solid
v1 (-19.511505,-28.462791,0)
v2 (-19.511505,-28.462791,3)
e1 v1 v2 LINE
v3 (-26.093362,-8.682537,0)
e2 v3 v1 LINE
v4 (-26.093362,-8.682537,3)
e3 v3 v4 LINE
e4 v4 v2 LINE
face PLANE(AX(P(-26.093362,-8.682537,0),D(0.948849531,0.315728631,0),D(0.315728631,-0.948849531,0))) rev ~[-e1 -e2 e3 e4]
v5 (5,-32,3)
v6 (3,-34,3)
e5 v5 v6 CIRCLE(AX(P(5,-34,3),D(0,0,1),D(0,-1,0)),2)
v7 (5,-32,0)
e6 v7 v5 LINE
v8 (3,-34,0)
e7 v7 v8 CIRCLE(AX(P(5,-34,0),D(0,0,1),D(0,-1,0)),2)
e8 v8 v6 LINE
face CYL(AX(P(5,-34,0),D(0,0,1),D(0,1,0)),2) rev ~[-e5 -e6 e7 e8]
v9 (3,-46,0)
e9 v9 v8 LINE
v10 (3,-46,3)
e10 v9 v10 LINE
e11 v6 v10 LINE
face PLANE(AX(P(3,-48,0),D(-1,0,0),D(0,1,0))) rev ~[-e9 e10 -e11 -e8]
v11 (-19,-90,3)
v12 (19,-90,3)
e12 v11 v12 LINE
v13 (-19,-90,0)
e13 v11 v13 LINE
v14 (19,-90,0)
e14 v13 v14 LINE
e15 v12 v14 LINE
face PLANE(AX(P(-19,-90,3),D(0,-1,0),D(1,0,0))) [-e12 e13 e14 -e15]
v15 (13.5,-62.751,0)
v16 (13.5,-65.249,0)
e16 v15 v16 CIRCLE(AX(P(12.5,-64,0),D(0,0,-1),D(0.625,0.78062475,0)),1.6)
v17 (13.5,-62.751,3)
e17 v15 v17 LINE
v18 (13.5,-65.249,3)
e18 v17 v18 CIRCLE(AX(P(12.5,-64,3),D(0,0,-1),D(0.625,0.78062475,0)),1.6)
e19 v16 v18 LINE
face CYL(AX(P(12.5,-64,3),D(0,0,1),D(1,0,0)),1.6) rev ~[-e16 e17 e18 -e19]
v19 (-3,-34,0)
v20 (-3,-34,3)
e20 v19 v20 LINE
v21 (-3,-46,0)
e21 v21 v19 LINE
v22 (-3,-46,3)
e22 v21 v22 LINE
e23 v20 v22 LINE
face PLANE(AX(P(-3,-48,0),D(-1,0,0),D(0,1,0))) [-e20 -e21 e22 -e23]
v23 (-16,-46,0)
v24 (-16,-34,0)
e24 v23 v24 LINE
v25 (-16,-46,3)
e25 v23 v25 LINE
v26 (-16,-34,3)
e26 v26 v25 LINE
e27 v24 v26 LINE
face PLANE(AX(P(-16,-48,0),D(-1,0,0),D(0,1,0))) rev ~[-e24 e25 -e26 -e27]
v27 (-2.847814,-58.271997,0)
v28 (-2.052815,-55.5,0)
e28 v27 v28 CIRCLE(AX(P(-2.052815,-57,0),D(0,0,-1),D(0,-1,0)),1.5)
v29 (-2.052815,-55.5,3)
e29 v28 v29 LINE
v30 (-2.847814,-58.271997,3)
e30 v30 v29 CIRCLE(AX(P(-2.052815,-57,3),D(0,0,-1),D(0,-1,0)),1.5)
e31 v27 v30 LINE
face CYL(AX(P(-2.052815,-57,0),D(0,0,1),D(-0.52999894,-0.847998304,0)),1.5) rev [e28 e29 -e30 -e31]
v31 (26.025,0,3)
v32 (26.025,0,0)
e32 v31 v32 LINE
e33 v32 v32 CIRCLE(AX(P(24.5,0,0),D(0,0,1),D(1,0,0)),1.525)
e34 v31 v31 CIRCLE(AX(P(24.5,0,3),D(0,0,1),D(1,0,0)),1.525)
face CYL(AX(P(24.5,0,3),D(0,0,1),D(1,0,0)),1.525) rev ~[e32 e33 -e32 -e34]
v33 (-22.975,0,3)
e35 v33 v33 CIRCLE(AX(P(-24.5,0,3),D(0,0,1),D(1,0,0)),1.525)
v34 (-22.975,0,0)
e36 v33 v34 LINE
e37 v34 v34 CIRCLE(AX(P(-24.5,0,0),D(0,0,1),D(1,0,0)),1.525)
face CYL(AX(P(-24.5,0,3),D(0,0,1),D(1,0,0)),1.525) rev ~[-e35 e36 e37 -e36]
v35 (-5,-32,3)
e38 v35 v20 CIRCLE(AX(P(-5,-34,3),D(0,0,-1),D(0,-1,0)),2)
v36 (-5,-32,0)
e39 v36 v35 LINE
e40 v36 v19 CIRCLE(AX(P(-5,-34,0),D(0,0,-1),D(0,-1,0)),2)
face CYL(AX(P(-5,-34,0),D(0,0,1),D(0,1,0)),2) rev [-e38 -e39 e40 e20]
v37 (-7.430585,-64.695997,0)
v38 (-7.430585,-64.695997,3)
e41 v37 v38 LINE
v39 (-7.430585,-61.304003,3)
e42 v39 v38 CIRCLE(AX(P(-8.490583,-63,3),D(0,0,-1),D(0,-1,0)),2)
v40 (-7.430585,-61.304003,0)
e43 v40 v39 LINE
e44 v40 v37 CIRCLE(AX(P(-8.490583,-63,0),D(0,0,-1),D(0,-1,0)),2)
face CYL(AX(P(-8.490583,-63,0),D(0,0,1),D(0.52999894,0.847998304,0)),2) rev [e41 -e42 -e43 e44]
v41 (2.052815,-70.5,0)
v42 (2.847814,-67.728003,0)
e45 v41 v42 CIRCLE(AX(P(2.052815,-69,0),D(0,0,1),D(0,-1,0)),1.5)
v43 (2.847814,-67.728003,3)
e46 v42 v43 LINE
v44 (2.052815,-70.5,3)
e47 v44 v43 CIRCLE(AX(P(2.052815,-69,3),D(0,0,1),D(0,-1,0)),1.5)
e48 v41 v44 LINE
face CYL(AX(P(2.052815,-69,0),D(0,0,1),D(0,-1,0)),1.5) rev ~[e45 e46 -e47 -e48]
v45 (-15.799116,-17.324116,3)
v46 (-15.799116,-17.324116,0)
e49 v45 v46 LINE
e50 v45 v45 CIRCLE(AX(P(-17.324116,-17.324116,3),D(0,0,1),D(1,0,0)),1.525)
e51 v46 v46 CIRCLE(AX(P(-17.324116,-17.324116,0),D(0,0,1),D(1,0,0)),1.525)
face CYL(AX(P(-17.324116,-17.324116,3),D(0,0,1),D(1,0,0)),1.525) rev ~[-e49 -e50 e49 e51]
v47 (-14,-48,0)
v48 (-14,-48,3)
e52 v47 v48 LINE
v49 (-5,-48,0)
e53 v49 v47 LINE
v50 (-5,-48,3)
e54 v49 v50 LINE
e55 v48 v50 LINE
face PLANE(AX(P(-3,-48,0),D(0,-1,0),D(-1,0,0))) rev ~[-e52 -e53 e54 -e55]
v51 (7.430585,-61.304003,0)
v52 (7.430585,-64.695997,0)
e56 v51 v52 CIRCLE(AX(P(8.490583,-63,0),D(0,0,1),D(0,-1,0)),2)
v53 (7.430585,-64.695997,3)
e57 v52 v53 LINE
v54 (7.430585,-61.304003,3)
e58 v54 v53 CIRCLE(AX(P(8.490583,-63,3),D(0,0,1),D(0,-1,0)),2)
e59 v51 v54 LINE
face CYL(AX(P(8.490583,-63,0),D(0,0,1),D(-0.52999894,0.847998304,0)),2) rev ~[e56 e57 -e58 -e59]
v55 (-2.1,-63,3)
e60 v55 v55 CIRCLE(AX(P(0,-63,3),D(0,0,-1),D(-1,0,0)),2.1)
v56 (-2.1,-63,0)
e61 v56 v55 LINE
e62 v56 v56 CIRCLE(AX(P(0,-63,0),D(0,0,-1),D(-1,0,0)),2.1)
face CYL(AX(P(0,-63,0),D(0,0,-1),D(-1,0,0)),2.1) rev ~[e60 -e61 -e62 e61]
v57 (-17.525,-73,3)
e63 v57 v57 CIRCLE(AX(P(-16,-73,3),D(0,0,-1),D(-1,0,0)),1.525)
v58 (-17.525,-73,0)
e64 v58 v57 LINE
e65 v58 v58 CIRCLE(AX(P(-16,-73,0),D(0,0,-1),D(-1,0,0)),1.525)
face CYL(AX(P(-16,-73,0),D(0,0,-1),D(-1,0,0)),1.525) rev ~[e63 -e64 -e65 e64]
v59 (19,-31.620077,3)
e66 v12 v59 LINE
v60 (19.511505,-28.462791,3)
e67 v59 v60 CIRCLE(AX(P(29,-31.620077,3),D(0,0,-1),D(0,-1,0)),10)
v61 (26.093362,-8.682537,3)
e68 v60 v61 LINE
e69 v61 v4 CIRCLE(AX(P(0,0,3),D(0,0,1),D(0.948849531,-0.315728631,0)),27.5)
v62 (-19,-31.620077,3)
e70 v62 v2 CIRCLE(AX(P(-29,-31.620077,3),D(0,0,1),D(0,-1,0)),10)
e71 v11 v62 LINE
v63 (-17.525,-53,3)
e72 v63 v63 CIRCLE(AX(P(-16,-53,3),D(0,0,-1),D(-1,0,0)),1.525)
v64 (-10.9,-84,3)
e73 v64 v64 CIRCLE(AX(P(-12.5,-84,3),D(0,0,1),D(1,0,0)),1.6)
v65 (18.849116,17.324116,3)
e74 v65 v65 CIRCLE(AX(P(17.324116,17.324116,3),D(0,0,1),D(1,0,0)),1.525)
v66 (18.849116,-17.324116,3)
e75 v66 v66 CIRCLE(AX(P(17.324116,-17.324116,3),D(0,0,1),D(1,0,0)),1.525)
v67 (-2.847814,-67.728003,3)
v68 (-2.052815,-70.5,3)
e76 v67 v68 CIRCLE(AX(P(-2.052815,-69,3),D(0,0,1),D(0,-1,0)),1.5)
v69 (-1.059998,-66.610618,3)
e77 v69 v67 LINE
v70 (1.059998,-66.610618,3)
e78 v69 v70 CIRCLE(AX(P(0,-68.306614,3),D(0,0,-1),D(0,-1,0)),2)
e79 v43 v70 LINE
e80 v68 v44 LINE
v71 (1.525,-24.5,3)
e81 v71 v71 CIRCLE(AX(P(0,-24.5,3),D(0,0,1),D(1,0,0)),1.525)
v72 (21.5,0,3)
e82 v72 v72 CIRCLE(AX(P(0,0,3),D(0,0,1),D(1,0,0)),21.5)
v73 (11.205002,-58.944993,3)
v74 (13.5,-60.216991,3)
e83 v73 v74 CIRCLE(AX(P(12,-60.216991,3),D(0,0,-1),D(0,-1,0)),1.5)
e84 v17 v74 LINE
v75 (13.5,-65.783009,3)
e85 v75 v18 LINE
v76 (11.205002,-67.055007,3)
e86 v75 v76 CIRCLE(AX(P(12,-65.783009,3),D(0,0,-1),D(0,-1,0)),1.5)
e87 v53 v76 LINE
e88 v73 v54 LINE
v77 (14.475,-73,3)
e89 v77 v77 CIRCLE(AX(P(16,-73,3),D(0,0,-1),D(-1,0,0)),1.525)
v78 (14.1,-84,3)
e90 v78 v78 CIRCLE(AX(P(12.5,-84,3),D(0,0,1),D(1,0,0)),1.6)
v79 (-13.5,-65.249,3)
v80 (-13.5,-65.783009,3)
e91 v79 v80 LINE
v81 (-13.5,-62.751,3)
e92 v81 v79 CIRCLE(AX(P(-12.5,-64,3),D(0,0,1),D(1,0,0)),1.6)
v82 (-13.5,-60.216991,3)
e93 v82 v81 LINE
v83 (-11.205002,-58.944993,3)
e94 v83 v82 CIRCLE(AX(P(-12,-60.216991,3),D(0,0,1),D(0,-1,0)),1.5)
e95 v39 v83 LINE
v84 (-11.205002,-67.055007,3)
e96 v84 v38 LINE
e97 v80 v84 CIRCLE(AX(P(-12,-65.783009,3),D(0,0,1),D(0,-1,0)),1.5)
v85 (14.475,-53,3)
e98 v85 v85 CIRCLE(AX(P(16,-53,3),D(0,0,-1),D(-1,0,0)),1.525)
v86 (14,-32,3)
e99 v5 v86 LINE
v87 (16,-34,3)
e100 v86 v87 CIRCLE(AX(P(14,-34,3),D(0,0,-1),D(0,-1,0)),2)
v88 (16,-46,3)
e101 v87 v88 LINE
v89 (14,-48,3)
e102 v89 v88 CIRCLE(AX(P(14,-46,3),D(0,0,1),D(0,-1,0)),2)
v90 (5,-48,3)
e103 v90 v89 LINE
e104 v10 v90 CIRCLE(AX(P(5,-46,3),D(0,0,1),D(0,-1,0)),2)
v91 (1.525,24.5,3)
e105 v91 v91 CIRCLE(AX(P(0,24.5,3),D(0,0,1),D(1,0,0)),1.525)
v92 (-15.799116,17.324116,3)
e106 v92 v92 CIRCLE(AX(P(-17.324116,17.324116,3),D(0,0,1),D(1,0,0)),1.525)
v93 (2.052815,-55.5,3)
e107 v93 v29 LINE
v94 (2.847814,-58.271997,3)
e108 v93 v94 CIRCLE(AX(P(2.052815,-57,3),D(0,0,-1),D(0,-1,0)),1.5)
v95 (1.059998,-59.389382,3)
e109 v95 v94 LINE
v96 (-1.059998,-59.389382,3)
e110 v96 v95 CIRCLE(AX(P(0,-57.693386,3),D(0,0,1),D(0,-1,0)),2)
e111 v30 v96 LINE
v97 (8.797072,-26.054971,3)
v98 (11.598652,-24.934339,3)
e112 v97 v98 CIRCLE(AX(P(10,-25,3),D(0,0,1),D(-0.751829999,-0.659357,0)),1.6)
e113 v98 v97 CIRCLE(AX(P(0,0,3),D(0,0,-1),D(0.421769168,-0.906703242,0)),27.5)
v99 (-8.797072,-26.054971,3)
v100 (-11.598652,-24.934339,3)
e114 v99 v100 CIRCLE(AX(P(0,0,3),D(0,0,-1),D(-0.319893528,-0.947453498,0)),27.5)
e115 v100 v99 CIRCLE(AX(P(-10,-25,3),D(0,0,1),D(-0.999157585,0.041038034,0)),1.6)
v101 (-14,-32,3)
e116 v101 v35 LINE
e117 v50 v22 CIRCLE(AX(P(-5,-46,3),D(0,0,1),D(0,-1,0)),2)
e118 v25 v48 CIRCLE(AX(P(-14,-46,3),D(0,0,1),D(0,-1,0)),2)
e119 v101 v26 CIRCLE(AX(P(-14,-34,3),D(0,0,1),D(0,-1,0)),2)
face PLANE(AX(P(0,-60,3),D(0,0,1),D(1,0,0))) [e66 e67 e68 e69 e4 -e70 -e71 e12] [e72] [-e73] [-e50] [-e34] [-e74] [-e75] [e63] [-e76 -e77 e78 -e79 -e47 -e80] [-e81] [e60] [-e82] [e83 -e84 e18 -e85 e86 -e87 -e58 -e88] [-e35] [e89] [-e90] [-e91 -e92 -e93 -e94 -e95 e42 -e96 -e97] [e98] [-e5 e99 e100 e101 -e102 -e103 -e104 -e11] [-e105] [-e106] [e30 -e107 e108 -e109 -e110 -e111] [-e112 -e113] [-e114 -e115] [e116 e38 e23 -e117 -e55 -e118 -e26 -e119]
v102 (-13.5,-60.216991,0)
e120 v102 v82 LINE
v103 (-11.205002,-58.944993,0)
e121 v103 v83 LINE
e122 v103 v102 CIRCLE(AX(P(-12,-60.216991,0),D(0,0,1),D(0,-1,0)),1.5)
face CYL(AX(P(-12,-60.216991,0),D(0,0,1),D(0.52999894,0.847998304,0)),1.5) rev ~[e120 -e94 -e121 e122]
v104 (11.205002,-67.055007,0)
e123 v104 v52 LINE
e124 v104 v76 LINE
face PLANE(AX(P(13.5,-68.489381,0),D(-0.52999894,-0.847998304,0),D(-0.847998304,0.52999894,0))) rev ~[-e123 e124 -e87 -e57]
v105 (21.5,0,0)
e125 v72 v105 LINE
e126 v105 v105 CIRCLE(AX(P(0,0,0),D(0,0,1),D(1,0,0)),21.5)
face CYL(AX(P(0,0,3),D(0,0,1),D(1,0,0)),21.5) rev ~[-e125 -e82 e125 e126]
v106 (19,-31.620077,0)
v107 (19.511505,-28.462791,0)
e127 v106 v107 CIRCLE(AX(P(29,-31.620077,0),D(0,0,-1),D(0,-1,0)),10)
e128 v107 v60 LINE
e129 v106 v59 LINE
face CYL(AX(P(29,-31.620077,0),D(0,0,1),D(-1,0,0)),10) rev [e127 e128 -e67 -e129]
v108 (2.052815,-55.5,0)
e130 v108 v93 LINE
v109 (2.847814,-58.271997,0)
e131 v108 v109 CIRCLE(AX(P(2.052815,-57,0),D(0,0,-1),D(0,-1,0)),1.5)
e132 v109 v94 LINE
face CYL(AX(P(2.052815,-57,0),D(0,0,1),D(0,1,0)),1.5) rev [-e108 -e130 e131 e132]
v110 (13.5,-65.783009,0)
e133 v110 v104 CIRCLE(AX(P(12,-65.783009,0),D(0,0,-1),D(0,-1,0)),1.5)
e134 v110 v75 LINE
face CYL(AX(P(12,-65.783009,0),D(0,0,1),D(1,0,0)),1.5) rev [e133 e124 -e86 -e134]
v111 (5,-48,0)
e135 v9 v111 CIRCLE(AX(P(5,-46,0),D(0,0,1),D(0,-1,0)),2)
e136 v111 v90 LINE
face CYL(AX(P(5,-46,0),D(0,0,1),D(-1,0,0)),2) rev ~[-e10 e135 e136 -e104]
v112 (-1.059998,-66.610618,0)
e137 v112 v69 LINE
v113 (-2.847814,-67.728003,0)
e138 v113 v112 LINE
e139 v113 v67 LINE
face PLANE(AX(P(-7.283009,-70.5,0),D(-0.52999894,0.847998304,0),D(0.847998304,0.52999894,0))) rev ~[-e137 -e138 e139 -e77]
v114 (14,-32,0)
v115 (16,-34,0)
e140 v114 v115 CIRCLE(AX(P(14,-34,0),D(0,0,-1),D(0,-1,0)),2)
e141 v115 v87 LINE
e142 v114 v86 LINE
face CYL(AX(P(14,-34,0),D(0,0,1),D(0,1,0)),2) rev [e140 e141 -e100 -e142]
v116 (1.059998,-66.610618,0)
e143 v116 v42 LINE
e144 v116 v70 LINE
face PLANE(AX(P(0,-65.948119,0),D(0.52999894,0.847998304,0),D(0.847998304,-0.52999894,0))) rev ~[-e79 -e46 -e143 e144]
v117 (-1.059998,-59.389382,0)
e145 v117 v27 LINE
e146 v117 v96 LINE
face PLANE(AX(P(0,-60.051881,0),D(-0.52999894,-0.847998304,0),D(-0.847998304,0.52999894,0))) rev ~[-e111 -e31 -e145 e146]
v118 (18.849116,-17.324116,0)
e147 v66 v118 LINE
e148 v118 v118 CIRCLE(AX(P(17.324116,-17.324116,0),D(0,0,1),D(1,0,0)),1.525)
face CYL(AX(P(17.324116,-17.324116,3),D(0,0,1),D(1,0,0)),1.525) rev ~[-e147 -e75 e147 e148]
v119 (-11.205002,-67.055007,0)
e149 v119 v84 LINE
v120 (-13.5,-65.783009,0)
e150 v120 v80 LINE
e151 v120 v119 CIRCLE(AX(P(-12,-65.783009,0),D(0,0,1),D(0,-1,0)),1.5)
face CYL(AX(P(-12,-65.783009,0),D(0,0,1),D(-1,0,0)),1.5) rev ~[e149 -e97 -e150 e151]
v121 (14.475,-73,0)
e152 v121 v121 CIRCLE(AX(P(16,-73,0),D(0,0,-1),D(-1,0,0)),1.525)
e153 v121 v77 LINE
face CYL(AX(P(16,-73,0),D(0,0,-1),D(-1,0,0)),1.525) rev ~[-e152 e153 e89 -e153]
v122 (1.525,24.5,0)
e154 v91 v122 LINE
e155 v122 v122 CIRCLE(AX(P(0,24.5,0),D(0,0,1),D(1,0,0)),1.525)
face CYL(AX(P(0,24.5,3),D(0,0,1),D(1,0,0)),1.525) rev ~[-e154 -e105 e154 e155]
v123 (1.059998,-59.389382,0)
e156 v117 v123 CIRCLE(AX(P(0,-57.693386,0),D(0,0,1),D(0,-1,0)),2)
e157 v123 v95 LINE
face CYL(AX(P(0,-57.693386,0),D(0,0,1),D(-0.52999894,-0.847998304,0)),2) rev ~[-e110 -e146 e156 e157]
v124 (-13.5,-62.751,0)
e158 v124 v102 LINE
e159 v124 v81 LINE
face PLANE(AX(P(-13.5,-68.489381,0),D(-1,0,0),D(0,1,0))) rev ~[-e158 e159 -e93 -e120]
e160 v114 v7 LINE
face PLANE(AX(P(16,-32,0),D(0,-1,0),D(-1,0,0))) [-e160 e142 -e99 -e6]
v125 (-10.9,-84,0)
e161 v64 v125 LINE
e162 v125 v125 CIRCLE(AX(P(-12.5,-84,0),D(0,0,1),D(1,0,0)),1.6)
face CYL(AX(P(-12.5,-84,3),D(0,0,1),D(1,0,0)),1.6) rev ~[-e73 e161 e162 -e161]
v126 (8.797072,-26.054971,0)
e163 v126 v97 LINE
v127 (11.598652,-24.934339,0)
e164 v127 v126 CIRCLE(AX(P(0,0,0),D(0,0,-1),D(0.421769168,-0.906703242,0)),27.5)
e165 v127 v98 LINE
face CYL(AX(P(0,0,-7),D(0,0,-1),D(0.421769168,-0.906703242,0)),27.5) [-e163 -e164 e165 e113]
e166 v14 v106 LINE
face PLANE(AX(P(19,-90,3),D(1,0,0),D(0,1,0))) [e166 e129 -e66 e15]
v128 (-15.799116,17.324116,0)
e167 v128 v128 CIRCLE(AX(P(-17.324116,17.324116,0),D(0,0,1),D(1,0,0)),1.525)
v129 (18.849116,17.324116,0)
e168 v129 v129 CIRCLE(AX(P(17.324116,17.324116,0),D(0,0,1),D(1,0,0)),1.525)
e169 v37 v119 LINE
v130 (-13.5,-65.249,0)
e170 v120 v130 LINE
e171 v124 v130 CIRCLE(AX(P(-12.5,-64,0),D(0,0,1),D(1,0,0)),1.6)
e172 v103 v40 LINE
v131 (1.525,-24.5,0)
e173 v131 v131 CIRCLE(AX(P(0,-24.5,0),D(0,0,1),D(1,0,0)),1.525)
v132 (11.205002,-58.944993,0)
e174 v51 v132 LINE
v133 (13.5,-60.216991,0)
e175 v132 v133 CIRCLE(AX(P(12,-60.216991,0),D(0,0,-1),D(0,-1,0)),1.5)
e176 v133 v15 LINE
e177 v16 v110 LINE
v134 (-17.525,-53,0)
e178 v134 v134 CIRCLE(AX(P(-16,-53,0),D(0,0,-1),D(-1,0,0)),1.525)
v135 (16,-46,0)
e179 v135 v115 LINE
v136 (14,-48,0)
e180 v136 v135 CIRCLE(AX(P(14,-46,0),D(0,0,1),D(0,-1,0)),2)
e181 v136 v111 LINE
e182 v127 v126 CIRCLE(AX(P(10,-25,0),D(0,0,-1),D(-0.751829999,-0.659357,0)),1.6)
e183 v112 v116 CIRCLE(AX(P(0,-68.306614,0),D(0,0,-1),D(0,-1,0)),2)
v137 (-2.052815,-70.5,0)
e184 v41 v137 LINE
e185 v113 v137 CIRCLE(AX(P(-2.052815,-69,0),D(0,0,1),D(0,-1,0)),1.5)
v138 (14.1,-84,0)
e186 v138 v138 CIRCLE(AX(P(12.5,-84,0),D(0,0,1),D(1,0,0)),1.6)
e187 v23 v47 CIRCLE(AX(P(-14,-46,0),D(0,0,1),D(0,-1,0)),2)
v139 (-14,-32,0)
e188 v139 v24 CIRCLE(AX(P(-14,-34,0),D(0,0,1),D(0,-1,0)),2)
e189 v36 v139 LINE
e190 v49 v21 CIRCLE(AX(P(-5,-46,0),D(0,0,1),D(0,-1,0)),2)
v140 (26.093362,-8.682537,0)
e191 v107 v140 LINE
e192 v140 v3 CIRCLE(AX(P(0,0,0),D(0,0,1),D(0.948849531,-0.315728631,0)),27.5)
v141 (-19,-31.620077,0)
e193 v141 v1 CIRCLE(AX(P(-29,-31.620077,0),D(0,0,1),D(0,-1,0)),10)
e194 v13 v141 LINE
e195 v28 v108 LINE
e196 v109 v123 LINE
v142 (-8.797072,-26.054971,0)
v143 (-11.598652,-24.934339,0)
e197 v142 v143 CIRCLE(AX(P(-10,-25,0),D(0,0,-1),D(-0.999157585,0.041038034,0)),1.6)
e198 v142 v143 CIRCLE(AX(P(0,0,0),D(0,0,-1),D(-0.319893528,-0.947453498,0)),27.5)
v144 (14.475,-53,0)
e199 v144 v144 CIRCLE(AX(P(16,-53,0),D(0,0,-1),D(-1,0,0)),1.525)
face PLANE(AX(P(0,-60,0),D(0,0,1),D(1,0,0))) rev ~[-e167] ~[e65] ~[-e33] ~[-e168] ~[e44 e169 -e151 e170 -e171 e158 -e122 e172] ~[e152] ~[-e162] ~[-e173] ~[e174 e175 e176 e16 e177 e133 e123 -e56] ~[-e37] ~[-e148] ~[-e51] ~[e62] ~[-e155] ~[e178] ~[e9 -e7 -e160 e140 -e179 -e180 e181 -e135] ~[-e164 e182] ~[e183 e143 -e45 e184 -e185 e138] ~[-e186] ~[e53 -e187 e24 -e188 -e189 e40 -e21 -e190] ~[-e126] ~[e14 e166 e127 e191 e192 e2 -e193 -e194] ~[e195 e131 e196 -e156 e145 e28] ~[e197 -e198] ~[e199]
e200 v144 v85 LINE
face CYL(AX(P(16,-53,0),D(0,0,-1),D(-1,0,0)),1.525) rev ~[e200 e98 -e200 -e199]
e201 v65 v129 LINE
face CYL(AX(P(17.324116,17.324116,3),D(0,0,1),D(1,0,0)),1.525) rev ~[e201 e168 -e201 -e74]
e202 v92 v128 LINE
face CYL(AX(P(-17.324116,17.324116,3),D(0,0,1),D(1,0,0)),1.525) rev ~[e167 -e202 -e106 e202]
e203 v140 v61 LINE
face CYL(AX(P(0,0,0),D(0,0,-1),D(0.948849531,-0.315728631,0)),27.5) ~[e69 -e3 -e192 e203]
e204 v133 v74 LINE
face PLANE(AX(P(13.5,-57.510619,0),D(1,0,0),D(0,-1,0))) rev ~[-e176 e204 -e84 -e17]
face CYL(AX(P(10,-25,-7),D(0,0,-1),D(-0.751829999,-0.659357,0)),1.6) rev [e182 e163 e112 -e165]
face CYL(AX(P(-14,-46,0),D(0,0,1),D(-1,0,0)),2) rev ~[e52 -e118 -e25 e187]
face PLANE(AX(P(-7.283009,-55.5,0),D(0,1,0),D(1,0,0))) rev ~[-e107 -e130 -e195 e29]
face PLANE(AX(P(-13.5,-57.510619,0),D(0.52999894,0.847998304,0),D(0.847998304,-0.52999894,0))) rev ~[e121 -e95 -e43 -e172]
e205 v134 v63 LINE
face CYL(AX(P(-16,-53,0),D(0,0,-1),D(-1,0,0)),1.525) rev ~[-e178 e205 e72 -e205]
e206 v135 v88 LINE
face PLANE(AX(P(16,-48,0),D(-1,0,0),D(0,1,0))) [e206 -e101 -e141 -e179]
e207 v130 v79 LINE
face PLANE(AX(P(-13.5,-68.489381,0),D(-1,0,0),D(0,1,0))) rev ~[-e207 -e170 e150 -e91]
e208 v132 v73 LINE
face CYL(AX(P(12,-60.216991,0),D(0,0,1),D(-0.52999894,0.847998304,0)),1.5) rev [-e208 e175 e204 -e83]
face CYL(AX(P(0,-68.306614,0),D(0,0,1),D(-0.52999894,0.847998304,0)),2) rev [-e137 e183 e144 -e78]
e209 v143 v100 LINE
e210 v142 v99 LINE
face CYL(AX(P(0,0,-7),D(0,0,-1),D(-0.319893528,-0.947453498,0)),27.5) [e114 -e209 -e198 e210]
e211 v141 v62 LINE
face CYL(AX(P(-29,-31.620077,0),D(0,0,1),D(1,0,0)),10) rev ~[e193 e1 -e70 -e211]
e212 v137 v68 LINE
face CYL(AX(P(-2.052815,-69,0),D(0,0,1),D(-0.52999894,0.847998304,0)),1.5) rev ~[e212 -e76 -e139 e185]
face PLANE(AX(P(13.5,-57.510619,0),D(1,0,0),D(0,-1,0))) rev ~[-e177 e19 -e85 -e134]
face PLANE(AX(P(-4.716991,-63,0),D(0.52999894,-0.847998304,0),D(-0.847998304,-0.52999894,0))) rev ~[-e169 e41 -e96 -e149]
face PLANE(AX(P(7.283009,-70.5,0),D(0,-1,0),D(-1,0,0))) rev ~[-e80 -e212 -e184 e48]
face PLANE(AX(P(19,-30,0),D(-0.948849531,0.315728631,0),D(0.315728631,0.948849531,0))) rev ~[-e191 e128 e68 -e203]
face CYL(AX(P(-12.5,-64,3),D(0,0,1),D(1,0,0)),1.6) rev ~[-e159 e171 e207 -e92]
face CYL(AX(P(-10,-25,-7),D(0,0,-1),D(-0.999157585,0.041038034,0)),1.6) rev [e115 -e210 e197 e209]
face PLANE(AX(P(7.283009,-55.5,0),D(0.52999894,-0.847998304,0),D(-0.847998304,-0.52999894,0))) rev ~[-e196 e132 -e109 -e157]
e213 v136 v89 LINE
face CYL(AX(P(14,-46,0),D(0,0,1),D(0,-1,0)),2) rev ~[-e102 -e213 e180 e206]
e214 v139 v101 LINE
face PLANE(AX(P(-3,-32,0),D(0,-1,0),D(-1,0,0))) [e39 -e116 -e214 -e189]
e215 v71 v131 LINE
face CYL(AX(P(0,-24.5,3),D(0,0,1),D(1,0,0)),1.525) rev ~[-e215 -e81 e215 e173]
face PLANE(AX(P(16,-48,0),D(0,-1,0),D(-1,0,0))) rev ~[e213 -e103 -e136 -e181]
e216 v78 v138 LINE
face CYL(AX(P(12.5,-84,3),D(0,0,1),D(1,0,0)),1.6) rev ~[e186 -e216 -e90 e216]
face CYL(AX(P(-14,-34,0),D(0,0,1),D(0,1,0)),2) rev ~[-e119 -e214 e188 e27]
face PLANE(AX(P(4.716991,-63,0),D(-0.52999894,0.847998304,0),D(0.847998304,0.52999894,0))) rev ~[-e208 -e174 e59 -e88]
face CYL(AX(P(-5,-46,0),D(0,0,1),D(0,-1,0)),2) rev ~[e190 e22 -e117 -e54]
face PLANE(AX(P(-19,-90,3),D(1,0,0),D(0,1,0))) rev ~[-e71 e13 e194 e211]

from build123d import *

# Parameters (mm, degrees)
EXTRUDE_1_DEPTH     = 3
SKETCH_2_R          = 21.5
CUT_EXTRUDE_1_DEPTH = 3
SKETCH_3_R          = 1.525
CUT_EXTRUDE_2_DEPTH = 3
SKETCH_4_W          = 38
SKETCH_4_H          = 60
SKETCH_4_R          = 1.6
EXTRUDE_2_DEPTH     = 3
SKETCH_13_R         = 1.525
CUT_EXTRUDE_7_DEPTH = 10
SKETCH_15_W         = 13
SKETCH_15_H         = 16
CUT_EXTRUDE_8_DEPTH = 10
FILLET_2_R          = 2
FILLET_3_R          = 1.5
SKETCH_16_R         = 2.1
CUT_EXTRUDE_9_DEPTH = 3
SKETCH_11_R         = 1.6
CUT_EXTRUDE_5_DEPTH = 10
CUT_EXTRUDE_START   = -10
CUT_EXTRUDE_3_DEPTH = 10
FILLET_1_R          = 10


with BuildPart() as part:
    # 草图1 → 凸台-拉伸1 (new body)
    with BuildSketch(Plane.XY):
        with BuildLine():
            Line((-19, -30), (19, -30))
            Line((19, -30), (26.093362093, -8.682537341))
            ThreePointArc((26.093362093, -8.682537341), (0, 27.5), (-26.093362093, -8.682537341))
            Line((-26.093362093, -8.682537341), (-19, -30))
        make_face()
    extrude(amount=EXTRUDE_1_DEPTH)

    # 草图2 → 切除-拉伸1 (cut)
    with BuildSketch(Plane.XY.offset(3)):
        Circle(SKETCH_2_R)
    extrude(amount=-CUT_EXTRUDE_1_DEPTH, mode=Mode.SUBTRACT)

    # 草图3 → 切除-拉伸2 (cut)
    with BuildSketch(Plane.XY.offset(3)):
        with Locations((17.324116139, 17.324116139)):
            Circle(SKETCH_3_R)
        with Locations((24.5, 0)):
            Circle(SKETCH_3_R)
        with Locations((17.324116139, -17.324116139)):
            Circle(SKETCH_3_R)
        with Locations((0, -24.5)):
            Circle(SKETCH_3_R)
        with Locations((-17.324116139, -17.324116139)):
            Circle(SKETCH_3_R)
        with Locations((-24.5, 0)):
            Circle(SKETCH_3_R)
        with Locations((-17.324116139, 17.324116139)):
            Circle(SKETCH_3_R)
        with Locations((0, 24.5)):
            Circle(SKETCH_3_R)
    extrude(amount=-CUT_EXTRUDE_2_DEPTH, mode=Mode.SUBTRACT)

    # 草图4 → 凸台-拉伸2 (add)
    with BuildSketch(Plane.XY.offset(3)):
        with Locations((0, -60)):
            Rectangle(SKETCH_4_W, SKETCH_4_H)
        with Locations((-12.5, -84)):
            Circle(SKETCH_4_R, mode=Mode.SUBTRACT)
        with Locations((12.5, -84)):
            Circle(SKETCH_4_R, mode=Mode.SUBTRACT)
    extrude(amount=-EXTRUDE_2_DEPTH)

    # 草图13 → 切除-拉伸7 (cut)
    with BuildSketch(Plane(origin=(0, 0, 0), x_dir=(-1, 0, 0), z_dir=(0, 0, -1))):
        with Locations((16, -73)):
            Circle(SKETCH_13_R)
        with Locations((16, -53)):
            Circle(SKETCH_13_R)
        with Locations((-16, -53)):
            Circle(SKETCH_13_R)
        with Locations((-16, -73)):
            Circle(SKETCH_13_R)
    extrude(amount=-CUT_EXTRUDE_7_DEPTH, mode=Mode.SUBTRACT)

    # 草图15 → 切除-拉伸8 (cut)
    with BuildSketch(Plane(origin=(0, 0, 0), x_dir=(-1, 0, 0), z_dir=(0, 0, -1))):
        with Locations((-9.5, -40)):
            Rectangle(SKETCH_15_W, SKETCH_15_H)
        with Locations((9.5, -40)):
            Rectangle(SKETCH_15_W, SKETCH_15_H)
        Polygon((7.283009434, -55.5), (-7.283009434, -55.5), (0, -60.051880896), align=None)
        Polygon((-4.716990566, -63), (-13.5, -57.510619104), (-13.5, -68.489380896), align=None)
        Polygon((7.283009434, -70.5), (0, -65.948119104), (-7.283009434, -70.5), align=None)
        Polygon((13.5, -57.510619104), (4.716990566, -63), (13.5, -68.489380896), align=None)
    extrude(amount=-CUT_EXTRUDE_8_DEPTH, mode=Mode.SUBTRACT)

    # 圆角2
    fillet_2_edges = [part.edges().sort_by_distance(p)[0] for p in [
        (4.716990566, -63, 1.5),
        (0, -65.948119104, 1.5),
        (0, -60.051880896, 1.5),
        (-3, -32, 1.5),
        (-16, -32, 1.5),
        (-16, -48, 1.5),
        (-3, -48, 1.5),
        (-4.716990566, -63, 1.5),
        (16, -32, 1.5),
        (3, -32, 1.5),
        (3, -48, 1.5),
        (16, -48, 1.5),
    ]]
    fillet(fillet_2_edges, radius=FILLET_2_R)

    # 圆角3
    fillet_3_edges = [part.edges().sort_by_distance(p)[0] for p in [
        (13.5, -68.489380896, 1.5),
        (13.5, -57.510619104, 1.5),
        (7.283009434, -70.5, 1.5),
        (-7.283009434, -70.5, 1.5),
        (7.283009434, -55.5, 1.5),
        (-7.283009434, -55.5, 1.5),
        (-13.5, -68.489380896, 1.5),
        (-13.5, -57.510619104, 1.5),
    ]]
    fillet(fillet_3_edges, radius=FILLET_3_R)

    # 草图16 → 切除-拉伸9 (cut)
    with BuildSketch(Plane(origin=(0, 0, 0), x_dir=(-1, 0, 0), z_dir=(0, 0, -1))):
        with Locations((0, -63)):
            Circle(SKETCH_16_R)
    extrude(amount=-CUT_EXTRUDE_9_DEPTH, mode=Mode.SUBTRACT)

    # 草图11 → 切除-拉伸5 (cut)
    with BuildSketch(Plane.XY.offset(3)):
        with Locations((-12.5, -64)):
            Circle(SKETCH_11_R)
        with Locations((12.5, -64)):
            Circle(SKETCH_11_R)
    extrude(amount=-CUT_EXTRUDE_5_DEPTH, mode=Mode.SUBTRACT)

    # 草图5 → 切除-拉伸3 (cut)
    with BuildSketch(Plane.XY.offset(3).offset(CUT_EXTRUDE_START)):
        with BuildLine():
            ThreePointArc((8.797072002, -26.054971199), (10.594225082, -26.485562705), (11.598652136, -24.934339146))
            ThreePointArc((11.598652136, -24.934339146), (10.2132436, -25.533108999), (8.797072002, -26.054971199))
        make_face()
        with BuildLine():
            ThreePointArc((-8.797072002, -26.054971199), (-10.2132436, -25.533108999), (-11.598652136, -24.934339146))
            ThreePointArc((-11.598652136, -24.934339146), (-10.594225082, -26.485562705), (-8.797072002, -26.054971199))
        make_face()
    extrude(amount=CUT_EXTRUDE_3_DEPTH, mode=Mode.SUBTRACT)

    # 圆角1
    fillet_1_edges = [part.edges().sort_by_distance(p)[0] for p in [
        (19, -30, 1.5),
        (-19, -30, 1.5),
    ]]
    fillet(fillet_1_edges, radius=FILLET_1_R)


solid = part.part
